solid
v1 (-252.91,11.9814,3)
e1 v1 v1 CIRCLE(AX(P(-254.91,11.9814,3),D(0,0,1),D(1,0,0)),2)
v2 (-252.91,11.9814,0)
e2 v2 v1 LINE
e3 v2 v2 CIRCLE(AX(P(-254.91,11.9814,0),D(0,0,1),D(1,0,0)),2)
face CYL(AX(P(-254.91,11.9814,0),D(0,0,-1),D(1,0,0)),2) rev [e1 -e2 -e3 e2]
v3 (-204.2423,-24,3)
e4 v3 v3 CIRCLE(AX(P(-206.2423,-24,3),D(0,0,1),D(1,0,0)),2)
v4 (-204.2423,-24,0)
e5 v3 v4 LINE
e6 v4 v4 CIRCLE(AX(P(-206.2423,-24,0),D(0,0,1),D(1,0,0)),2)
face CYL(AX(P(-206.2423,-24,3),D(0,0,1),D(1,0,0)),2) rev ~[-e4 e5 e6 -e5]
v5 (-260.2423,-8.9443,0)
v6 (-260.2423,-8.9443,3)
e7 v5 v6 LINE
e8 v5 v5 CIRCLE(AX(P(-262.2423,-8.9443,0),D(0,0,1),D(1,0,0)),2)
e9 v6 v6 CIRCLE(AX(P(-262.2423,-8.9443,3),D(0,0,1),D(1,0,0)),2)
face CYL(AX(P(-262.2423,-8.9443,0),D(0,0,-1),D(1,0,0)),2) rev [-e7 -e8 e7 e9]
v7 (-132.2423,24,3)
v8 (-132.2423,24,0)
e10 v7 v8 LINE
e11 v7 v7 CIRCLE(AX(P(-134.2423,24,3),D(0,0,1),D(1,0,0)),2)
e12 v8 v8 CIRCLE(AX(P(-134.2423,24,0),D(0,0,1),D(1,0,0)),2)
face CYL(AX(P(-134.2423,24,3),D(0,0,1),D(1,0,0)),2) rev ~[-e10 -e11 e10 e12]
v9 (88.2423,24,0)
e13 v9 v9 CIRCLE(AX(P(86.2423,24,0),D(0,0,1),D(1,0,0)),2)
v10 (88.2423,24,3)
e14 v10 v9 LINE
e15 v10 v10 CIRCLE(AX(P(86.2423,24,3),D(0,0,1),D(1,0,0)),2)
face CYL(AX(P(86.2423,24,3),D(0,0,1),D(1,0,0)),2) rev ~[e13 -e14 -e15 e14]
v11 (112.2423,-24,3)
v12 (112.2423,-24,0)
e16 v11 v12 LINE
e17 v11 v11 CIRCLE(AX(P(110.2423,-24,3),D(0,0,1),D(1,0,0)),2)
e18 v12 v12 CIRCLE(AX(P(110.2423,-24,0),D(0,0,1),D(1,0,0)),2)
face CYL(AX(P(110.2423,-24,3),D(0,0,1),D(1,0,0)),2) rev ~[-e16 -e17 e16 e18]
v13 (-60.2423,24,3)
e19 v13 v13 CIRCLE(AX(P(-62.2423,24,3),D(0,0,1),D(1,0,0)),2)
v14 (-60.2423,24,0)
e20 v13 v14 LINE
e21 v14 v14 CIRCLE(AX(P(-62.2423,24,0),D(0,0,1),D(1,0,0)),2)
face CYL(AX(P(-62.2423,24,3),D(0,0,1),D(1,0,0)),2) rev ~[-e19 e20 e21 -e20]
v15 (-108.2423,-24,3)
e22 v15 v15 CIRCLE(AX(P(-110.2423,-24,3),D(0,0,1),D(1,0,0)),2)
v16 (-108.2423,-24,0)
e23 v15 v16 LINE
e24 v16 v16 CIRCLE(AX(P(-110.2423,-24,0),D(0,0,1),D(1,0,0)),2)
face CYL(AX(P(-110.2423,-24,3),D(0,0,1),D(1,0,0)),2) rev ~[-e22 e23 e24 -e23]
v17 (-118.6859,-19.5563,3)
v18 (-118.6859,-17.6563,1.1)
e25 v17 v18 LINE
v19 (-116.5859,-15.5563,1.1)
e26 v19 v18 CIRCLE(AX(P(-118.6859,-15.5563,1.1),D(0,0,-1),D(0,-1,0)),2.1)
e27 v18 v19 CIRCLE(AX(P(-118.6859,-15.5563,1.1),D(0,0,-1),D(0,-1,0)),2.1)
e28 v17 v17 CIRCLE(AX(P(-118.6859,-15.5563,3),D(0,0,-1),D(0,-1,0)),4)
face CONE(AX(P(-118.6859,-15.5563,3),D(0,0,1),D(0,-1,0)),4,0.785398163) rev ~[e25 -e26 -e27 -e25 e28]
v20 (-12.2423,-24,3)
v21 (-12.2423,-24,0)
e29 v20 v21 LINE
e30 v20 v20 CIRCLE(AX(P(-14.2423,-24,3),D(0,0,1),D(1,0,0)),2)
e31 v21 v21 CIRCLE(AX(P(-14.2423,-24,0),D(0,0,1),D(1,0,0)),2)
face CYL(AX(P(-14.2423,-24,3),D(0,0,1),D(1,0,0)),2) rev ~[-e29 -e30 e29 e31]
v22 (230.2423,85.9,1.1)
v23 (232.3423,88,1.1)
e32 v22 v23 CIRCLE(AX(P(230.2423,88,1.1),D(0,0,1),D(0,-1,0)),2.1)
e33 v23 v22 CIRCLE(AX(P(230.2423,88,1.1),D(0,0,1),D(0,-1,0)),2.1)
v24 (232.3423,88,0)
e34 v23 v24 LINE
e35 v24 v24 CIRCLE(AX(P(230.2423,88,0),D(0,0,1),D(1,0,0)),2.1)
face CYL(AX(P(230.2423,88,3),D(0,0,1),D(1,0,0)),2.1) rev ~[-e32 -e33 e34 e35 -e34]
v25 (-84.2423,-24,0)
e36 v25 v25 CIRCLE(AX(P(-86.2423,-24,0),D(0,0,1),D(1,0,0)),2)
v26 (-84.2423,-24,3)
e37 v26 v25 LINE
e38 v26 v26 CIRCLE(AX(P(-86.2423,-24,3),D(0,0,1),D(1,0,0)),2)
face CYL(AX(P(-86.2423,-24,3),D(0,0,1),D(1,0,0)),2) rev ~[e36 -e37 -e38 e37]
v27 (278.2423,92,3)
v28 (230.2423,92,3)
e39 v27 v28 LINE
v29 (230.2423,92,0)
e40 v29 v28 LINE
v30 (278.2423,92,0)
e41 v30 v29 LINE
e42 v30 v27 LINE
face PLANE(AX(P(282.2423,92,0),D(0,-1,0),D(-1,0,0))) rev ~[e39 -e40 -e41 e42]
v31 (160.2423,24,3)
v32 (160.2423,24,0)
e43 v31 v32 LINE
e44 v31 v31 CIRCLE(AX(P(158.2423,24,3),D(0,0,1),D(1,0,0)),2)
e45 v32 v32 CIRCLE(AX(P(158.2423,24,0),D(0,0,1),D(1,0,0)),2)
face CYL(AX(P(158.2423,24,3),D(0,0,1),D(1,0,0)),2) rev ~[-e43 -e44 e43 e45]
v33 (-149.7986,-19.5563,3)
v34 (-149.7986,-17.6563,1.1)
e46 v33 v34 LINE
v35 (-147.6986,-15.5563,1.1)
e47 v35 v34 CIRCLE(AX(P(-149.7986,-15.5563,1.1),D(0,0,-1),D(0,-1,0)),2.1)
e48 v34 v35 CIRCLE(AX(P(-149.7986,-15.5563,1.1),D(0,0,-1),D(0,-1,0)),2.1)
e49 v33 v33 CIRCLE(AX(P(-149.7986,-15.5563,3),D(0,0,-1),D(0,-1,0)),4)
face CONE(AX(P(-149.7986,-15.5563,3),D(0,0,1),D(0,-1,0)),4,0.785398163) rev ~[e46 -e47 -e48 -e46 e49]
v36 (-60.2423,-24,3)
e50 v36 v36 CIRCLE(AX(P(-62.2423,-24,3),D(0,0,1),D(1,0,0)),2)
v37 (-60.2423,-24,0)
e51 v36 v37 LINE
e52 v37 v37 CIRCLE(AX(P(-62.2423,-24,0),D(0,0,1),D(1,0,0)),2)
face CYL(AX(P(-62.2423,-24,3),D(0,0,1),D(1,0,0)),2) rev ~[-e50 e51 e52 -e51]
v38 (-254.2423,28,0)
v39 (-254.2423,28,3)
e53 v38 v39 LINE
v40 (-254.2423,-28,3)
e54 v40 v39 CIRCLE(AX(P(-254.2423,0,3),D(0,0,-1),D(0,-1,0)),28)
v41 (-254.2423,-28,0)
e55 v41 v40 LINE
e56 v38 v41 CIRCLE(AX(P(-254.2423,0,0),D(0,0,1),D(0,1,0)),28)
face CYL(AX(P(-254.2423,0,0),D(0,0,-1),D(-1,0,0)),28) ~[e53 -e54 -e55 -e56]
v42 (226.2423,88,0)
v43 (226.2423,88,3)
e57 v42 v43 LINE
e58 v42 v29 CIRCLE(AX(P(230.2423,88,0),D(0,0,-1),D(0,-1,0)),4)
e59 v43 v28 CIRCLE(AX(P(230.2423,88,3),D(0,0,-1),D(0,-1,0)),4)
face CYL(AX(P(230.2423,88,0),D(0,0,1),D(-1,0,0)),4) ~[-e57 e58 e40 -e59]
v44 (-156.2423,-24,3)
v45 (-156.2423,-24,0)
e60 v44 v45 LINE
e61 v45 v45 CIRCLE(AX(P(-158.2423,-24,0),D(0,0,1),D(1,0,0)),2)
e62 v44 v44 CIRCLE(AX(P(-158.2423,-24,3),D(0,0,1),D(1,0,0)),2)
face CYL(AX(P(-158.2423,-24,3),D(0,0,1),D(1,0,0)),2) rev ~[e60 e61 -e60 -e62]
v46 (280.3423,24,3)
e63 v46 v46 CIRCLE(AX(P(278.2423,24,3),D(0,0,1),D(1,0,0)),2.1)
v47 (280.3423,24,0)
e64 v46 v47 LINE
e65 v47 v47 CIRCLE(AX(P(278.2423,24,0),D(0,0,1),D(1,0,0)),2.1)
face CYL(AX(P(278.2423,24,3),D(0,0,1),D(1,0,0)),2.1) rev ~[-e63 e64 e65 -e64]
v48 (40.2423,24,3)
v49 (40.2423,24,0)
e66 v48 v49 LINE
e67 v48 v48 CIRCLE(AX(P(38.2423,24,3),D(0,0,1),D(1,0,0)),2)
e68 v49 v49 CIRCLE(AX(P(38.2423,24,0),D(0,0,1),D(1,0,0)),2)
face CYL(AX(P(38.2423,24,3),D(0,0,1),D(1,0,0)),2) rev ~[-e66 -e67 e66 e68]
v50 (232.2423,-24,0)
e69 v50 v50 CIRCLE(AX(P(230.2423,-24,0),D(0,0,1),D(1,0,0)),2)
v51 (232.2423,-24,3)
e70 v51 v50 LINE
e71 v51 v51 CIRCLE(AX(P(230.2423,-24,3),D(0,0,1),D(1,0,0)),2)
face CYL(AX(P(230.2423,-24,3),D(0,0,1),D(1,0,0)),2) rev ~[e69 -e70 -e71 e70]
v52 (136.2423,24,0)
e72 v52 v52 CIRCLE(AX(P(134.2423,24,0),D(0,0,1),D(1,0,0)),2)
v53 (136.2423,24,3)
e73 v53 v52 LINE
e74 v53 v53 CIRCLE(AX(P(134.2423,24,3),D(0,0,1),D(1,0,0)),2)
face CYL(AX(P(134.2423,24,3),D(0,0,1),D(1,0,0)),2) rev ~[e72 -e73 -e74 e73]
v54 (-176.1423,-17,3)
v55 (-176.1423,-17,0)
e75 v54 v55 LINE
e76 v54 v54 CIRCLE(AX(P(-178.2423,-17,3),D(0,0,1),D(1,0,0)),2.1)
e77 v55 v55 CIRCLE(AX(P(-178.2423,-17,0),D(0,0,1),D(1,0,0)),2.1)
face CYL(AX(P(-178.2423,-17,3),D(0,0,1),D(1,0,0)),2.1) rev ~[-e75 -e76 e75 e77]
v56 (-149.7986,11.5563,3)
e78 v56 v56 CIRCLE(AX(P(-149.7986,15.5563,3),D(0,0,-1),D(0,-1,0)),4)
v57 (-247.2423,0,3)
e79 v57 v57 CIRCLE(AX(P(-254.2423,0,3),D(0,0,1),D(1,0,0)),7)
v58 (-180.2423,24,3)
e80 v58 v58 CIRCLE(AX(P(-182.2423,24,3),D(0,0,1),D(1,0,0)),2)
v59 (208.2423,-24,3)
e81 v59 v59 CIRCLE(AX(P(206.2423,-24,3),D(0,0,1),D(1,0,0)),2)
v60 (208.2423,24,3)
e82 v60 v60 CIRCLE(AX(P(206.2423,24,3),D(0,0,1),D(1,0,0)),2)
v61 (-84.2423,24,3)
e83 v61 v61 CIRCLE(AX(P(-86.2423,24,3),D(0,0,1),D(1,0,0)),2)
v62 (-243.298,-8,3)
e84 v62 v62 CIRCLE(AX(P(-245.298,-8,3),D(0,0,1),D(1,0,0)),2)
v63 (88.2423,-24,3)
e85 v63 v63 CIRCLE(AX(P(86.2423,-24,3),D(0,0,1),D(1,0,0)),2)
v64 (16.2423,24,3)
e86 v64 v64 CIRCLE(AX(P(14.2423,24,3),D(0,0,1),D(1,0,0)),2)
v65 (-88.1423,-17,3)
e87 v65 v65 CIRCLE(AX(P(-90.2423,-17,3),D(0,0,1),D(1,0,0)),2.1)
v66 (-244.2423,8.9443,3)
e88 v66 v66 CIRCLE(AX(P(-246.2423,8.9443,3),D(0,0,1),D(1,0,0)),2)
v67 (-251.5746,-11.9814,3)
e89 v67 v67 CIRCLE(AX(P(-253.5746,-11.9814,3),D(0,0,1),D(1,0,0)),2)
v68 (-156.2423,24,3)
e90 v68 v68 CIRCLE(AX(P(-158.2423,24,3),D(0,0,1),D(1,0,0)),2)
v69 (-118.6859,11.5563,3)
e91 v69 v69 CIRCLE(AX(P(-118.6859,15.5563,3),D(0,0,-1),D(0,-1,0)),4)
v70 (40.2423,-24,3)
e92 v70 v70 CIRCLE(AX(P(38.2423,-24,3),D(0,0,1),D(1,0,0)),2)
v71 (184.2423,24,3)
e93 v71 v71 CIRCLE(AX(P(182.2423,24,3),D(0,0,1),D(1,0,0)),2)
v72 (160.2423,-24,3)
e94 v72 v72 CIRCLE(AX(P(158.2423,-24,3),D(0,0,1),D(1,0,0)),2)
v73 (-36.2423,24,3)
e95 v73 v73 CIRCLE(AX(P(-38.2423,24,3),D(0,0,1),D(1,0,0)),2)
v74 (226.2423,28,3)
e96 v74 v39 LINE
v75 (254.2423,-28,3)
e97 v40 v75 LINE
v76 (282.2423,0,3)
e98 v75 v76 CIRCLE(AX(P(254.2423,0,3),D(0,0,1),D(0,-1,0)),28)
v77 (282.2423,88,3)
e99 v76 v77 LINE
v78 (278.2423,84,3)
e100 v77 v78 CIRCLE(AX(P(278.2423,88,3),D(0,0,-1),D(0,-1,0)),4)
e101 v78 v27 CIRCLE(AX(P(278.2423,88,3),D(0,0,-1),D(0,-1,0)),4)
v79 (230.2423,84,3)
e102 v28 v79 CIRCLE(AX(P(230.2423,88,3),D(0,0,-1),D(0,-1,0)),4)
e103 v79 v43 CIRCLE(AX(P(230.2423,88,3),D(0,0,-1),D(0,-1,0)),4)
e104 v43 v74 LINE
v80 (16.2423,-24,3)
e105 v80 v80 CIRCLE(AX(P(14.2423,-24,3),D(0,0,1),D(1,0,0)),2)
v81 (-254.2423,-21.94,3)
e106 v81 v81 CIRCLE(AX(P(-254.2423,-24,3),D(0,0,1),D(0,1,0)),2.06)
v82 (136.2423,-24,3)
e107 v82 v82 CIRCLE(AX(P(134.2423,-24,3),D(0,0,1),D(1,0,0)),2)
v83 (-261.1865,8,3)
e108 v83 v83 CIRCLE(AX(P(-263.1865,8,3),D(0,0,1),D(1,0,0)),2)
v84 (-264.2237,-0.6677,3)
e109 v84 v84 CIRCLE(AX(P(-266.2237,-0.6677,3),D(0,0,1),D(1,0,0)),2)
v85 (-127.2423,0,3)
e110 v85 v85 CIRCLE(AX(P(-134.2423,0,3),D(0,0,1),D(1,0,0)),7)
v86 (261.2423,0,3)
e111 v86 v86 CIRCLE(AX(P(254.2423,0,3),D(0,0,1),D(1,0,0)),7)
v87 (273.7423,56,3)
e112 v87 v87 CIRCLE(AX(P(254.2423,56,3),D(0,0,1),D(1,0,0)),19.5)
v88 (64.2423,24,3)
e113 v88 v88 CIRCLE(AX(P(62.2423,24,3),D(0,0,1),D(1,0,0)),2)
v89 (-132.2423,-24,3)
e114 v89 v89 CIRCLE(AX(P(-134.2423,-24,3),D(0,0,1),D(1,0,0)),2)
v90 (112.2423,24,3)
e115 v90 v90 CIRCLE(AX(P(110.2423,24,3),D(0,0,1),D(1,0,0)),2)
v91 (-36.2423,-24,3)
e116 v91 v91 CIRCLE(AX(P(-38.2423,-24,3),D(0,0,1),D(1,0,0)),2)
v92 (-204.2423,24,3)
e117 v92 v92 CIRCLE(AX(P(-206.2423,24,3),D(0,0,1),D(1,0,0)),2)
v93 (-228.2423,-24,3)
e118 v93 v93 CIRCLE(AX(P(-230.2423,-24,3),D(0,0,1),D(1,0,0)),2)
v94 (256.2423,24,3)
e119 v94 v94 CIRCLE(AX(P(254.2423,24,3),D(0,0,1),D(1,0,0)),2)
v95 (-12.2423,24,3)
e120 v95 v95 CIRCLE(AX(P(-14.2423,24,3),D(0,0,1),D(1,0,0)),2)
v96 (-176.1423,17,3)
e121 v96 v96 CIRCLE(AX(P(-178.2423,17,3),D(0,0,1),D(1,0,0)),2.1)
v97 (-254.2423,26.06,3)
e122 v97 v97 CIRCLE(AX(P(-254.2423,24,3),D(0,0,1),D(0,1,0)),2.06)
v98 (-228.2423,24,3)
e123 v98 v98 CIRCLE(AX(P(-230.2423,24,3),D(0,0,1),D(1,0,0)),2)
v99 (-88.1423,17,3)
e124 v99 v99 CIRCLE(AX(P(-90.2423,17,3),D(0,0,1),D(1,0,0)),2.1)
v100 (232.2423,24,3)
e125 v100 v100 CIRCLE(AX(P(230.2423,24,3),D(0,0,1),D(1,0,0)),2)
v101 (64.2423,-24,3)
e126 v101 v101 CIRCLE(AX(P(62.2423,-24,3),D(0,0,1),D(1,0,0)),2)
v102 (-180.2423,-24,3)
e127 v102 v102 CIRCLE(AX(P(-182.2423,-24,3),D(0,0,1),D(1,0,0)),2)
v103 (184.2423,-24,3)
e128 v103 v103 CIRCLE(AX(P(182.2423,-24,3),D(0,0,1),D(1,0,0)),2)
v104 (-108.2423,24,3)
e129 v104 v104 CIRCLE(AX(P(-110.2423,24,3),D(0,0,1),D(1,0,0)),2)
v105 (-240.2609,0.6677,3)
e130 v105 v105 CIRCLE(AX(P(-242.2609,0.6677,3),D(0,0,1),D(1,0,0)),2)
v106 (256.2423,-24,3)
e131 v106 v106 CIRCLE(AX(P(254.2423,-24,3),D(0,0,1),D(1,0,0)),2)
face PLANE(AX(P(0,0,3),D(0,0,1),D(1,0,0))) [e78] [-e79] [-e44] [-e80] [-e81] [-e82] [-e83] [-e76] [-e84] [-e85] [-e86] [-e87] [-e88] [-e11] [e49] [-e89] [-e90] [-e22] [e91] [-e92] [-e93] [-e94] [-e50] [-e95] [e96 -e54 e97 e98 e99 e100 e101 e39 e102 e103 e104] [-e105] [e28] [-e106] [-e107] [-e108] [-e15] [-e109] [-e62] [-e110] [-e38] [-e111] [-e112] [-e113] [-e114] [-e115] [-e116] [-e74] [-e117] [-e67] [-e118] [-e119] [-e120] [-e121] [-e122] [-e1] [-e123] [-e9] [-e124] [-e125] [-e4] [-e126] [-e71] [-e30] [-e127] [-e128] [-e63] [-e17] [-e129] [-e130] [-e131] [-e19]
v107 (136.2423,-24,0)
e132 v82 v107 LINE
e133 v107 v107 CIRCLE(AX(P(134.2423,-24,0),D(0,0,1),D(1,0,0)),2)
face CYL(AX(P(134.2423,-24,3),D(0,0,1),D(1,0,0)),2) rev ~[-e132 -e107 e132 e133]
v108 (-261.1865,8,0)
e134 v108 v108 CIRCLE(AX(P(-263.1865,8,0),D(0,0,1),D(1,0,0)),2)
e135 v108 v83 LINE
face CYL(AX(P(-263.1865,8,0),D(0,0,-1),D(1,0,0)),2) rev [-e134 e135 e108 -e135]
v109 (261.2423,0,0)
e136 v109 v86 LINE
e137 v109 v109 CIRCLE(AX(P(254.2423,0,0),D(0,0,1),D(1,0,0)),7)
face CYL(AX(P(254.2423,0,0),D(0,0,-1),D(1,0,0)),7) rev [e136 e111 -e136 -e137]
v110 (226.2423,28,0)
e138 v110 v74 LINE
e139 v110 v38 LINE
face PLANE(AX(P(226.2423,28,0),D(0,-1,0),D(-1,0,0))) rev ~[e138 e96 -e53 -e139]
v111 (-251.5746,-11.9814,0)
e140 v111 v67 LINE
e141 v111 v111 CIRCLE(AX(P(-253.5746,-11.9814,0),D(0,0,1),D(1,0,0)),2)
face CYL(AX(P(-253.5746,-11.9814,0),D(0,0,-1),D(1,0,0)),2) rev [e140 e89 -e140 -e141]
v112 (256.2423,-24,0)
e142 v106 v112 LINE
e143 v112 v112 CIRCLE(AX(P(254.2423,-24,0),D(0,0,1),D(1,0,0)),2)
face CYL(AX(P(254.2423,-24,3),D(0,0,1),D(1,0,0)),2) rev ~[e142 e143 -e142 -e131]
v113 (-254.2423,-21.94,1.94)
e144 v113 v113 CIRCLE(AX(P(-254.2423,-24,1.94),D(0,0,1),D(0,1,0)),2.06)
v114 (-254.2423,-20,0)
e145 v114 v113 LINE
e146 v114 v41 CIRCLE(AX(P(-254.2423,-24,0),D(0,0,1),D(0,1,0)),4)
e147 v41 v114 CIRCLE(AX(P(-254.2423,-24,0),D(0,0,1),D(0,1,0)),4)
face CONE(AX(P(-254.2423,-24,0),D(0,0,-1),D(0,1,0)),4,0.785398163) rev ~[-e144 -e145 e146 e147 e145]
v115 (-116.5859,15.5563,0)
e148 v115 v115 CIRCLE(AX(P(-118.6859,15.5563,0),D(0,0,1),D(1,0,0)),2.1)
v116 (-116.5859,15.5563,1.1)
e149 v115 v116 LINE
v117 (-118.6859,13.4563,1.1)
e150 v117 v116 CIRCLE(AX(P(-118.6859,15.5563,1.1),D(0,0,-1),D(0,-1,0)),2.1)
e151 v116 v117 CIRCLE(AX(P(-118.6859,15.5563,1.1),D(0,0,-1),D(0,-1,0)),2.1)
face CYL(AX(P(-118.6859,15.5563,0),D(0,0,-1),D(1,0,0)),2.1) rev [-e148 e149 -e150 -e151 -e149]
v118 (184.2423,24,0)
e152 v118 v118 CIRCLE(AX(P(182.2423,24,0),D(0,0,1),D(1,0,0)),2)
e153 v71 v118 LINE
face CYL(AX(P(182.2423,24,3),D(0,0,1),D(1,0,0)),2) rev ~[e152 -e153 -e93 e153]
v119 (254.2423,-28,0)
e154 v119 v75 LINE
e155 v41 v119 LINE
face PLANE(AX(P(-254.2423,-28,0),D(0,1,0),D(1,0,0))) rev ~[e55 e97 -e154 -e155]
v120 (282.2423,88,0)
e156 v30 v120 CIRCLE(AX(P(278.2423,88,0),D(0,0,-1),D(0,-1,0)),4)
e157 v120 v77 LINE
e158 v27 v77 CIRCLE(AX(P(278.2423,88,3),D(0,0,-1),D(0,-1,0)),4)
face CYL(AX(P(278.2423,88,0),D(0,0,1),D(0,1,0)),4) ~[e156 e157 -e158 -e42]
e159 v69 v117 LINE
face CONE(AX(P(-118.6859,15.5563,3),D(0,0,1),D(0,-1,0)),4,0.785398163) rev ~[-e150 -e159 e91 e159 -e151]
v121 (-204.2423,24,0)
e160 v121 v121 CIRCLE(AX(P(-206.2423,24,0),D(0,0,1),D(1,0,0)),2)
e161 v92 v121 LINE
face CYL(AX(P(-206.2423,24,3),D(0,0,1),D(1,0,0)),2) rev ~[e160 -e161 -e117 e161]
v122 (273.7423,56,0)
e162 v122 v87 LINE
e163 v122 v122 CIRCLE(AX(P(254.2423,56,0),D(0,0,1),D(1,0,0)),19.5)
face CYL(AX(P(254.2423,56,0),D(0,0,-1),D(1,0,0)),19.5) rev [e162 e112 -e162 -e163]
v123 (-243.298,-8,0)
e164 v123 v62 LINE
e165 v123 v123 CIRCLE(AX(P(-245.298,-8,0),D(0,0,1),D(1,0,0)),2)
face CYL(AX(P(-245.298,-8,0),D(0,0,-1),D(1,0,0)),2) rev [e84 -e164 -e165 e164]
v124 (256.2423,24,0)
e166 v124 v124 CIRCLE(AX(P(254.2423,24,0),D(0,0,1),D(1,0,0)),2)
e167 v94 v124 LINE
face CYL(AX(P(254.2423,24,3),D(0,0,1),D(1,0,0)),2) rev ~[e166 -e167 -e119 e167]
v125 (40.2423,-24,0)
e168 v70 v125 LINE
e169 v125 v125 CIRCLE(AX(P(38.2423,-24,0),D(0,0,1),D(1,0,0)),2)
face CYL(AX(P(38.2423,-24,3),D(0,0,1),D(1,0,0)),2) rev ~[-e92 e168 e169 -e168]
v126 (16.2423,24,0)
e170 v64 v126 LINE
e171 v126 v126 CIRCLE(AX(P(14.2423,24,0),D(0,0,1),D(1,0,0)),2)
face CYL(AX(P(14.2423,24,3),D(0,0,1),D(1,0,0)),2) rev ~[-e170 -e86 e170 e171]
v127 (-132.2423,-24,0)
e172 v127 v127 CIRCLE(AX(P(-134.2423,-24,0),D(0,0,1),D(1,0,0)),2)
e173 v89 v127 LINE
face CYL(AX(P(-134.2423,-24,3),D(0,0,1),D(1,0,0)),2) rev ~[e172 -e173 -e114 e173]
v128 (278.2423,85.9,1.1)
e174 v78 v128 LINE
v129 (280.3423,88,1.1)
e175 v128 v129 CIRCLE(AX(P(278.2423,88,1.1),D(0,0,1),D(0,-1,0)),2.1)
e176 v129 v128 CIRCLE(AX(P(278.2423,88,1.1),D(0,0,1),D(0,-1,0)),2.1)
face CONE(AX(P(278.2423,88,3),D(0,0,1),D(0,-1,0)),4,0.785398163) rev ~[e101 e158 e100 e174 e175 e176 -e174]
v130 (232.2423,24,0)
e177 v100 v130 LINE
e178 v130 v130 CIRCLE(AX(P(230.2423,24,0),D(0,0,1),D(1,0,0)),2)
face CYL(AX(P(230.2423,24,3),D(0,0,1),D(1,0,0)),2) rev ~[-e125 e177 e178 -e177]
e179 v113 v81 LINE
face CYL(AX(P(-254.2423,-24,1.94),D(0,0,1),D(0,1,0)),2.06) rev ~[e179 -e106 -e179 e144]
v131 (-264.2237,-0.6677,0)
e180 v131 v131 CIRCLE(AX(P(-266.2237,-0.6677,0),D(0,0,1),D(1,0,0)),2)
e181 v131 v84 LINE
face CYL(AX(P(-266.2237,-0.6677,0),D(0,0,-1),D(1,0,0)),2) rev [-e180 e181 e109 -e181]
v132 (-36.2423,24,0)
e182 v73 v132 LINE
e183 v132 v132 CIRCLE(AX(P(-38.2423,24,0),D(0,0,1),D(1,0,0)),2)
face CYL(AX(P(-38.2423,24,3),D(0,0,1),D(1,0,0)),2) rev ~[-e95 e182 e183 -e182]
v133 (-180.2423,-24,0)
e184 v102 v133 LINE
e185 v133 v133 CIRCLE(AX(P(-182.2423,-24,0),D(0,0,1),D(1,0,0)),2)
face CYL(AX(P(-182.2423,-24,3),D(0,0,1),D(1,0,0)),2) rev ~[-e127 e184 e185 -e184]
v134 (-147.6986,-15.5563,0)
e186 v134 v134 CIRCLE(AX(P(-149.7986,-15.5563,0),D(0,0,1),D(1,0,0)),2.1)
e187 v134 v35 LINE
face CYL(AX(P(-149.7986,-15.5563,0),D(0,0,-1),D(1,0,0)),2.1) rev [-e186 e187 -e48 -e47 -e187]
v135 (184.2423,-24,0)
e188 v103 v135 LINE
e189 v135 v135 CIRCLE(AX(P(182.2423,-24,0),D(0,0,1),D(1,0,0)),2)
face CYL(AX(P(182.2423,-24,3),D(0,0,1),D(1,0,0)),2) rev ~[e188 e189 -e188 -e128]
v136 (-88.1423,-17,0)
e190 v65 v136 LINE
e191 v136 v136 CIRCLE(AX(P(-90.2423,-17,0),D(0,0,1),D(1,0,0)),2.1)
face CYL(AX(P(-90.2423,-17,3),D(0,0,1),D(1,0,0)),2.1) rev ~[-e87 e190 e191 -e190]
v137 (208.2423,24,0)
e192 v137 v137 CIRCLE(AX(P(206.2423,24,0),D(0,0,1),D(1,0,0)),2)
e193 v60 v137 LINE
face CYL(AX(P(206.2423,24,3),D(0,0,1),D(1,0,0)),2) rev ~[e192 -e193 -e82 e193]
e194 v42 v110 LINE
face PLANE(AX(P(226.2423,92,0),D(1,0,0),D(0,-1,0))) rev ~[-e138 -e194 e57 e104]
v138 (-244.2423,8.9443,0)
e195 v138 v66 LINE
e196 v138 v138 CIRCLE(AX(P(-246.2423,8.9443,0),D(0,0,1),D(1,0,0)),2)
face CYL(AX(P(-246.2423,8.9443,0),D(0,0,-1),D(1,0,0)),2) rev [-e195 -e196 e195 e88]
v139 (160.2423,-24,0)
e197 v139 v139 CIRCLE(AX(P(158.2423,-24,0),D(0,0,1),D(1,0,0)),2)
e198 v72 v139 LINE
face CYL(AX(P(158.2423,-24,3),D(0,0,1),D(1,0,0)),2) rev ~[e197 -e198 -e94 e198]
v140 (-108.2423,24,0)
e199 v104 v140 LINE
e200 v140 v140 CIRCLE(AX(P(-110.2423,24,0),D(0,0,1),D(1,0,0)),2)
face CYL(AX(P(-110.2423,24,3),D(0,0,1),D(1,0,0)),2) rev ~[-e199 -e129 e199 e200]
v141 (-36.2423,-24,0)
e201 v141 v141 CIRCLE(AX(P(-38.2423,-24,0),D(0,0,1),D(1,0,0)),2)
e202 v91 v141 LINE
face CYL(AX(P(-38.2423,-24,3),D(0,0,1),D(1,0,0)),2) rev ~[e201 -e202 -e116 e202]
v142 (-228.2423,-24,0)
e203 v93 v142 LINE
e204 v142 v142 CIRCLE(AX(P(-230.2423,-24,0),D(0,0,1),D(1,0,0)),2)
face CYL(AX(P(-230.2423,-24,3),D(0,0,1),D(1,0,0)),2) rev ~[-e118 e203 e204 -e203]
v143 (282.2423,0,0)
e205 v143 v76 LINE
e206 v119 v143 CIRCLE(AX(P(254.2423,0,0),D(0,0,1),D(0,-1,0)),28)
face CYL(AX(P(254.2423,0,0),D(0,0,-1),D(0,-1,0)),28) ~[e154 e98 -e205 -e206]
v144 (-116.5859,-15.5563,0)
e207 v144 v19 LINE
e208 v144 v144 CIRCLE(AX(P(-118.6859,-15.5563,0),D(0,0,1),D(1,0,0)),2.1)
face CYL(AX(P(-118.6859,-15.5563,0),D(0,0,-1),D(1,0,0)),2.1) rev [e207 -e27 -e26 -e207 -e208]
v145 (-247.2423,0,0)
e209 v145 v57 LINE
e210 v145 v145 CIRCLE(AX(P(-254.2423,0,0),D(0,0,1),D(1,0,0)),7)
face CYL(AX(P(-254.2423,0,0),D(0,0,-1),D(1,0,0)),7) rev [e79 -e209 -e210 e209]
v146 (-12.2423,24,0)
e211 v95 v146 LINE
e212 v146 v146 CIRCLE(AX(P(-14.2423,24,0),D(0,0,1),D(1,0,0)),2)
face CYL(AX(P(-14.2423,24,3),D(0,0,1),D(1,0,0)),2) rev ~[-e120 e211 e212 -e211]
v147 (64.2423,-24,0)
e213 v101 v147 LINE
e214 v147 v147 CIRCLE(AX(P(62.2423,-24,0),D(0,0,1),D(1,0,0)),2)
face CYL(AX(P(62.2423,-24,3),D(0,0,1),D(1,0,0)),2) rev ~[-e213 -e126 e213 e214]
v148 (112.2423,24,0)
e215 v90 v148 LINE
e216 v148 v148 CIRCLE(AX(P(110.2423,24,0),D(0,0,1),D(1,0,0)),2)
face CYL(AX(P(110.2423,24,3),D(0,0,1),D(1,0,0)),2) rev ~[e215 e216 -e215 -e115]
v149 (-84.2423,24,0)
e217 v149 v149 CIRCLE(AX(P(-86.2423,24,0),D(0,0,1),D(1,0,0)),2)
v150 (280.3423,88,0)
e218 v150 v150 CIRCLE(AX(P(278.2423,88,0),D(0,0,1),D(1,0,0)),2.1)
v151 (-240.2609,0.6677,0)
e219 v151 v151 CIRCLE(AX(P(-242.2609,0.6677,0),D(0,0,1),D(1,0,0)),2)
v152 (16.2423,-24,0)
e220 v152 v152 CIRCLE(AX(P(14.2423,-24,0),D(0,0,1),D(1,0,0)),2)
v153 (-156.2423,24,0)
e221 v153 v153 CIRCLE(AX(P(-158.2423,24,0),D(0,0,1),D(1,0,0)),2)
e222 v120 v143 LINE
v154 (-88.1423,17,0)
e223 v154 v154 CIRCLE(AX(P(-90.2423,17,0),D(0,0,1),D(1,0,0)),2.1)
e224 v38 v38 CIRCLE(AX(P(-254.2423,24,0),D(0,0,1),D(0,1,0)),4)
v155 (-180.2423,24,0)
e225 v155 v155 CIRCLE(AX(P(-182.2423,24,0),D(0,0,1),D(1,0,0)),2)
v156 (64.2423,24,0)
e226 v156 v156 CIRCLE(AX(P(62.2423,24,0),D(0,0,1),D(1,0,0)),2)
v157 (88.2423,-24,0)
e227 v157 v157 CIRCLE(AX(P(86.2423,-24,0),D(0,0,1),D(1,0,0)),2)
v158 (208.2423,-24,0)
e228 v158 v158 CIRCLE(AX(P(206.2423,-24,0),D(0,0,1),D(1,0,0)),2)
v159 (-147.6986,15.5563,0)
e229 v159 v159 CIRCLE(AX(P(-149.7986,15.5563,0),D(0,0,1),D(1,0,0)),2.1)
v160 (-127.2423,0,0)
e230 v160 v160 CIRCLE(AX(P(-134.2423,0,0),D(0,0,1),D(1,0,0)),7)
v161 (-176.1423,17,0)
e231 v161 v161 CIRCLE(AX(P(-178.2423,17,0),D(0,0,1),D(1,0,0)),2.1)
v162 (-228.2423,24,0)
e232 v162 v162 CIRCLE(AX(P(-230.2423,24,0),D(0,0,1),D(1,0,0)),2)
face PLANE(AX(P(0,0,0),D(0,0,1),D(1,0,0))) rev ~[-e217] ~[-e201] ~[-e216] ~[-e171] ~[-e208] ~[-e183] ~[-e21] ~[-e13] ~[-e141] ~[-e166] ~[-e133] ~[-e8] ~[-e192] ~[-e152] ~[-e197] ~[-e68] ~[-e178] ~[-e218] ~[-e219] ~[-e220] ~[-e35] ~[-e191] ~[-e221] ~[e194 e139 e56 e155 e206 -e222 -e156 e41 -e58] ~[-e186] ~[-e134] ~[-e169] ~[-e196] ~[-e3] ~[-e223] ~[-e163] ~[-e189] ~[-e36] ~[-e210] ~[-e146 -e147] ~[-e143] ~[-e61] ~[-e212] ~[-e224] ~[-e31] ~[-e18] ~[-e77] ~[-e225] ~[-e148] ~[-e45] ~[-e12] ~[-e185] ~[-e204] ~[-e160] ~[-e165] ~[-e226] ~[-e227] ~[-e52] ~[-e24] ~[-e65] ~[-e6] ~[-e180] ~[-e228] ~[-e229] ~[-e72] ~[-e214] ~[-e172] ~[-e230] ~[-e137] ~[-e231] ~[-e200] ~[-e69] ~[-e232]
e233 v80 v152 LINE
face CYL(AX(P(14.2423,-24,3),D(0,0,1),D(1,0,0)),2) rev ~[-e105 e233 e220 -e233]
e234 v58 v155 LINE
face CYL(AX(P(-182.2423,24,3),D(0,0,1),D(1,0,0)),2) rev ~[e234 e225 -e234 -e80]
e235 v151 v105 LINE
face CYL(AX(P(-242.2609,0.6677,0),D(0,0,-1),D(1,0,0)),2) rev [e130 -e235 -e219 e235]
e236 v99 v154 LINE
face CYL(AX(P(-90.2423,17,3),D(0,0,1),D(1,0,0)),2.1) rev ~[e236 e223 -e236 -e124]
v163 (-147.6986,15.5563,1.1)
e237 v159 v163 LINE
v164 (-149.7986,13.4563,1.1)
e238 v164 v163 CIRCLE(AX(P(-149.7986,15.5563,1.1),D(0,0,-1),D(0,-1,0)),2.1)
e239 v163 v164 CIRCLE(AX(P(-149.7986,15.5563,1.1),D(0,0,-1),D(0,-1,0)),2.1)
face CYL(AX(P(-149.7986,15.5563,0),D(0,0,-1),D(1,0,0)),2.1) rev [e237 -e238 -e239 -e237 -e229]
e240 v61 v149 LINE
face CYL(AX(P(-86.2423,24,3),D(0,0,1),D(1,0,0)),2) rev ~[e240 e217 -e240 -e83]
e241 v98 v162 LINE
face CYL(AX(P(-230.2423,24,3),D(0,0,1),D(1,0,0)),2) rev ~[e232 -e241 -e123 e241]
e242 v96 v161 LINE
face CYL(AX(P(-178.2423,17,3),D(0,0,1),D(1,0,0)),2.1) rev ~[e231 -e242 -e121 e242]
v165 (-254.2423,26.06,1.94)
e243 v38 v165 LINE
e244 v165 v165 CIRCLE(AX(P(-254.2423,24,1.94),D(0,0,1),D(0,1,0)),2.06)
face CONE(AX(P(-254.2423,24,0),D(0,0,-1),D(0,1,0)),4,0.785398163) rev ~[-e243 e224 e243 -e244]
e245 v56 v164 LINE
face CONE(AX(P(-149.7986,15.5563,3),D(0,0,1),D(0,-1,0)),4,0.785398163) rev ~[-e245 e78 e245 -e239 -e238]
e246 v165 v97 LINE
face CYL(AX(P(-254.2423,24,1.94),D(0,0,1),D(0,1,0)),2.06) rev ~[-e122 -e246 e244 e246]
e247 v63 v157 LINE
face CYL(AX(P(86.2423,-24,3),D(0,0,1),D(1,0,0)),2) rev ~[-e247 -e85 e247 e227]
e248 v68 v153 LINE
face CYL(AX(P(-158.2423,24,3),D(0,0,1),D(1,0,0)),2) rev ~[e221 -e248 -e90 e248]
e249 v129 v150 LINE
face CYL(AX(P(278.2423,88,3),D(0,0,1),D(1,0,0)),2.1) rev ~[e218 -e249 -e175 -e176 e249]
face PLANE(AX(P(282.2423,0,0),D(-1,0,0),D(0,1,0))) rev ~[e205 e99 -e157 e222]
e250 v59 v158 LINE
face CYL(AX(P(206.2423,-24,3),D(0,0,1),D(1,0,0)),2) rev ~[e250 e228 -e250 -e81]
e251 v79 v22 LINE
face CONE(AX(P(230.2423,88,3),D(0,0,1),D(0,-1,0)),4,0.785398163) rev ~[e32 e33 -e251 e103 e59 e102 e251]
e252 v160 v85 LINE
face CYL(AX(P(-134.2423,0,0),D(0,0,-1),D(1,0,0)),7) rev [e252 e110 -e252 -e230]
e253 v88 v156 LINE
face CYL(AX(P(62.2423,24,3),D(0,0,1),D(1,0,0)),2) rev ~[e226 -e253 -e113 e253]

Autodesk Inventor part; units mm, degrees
ref_plane "YZ Plane" through (0, 0, 0) normal (1, 0, 0) x (0, 1, 0)
ref_plane "XZ Plane" through (0, 0, 0) normal (0, 1, 0) x (-1, 0, 0)
ref_plane "XY Plane" through (0, 0, 0) normal (0, 0, 1) x (1, 0, 0)
sketch "Sketch1" plane through (0, 0, 0) normal (0, 0, 1) x (1, 0, 0)
  line L0 (-254.2423, -28) -> (254.2423, -28)
  line L1 (282.2423, 0) -> (282.2423, 28)
  line L2 (282.2423, 28) -> (-254.2423, 28) construction
  line L3 (-282.2423, 0) -> (-282.2423, 0)
  line L4 (-282.2423, -28) -> (282.2423, 28) construction
  line L5 (282.2423, -28) -> (-282.2423, 28) construction
  arc A0 (-254.2423, 28) -> (-282.2423, 0) centre (-254.2423, 0) ccw
  arc A1 (-282.2423, 0) -> (-254.2423, -28) centre (-254.2423, 0) ccw
  circle A2 centre (-134.2423, 0) radius 7
  circle A3 centre (-149.7986, 15.5563) radius 2.1
  line L6 (-134.2423, 0) -> (-149.7986, 15.5563) construction
  line L7 (-134.2423, 0) -> (-254.2423, 0) construction
  circle A4 centre (-149.7986, -15.5563) radius 2.1
  circle A5 centre (-118.6859, -15.5563) radius 2.1
  circle A6 centre (-118.6859, 15.5563) radius 2.1
  arc A7 (254.2423, -28) -> (282.2423, 0) centre (254.2423, 0) ccw
  circle A8 centre (254.2423, 0) radius 7
  line L8 (282.2423, 28) -> (282.2423, 92)
  line L9 (282.2423, 92) -> (226.2423, 92)
  line L10 (226.2423, 92) -> (226.2423, 28)
  line L11 (226.2423, 28) -> (-254.2423, 28)
  circle A9 centre (254.2423, 56) radius 19.5
  circle A10 centre (-254.2423, 0) radius 7
  circle A11 centre (-263.1865, 8) radius 2
  circle A12 centre (-266.2237, -0.6677) radius 2
  circle A13 centre (-262.2423, -8.9443) radius 2
  circle A14 centre (-253.5746, -11.9814) radius 2
  circle A15 centre (-245.298, -8) radius 2
  circle A16 centre (-242.2609, 0.6677) radius 2
  circle A17 centre (-246.2423, 8.9443) radius 2
  circle A18 centre (-254.91, 11.9814) radius 2
  line L12 (-134.2423, 0) -> (254.2423, 56) construction
  point P0 (0, 0)
  point P1 (-282.2423, 0)
  dimension "d1" = 56
  dimension "d3" = 28
  dimension "d4" = 14
  dimension "d5" = 120
  dimension "d6" = 4.2
  dimension "d7" = 45
  dimension "d8" = 22
  dimension "d11" = 360
  dimension "d13" = 28
  dimension "d16" = 14
  dimension "d17" = 64
  dimension "d18" = 56
  dimension "d19" = 39
  dimension "d20" = 56
  dimension "d21" = 14
  dimension "d22" = 4
  dimension "d24" = 8
  dimension "d27" = 360
  dimension "d50" = 12
  dimension "d65" = 392.5
extrude "Extrusion1" add sketch "Sketch1" along normal blind 3
sketch "Sketch2" plane through (0, 0, 3) normal (0, 0, 1) x (1, 0, 0)
  line L0 (226.2423, 28) -> (-254.2423, 28) construction
  circle A0 centre (-254.2423, 24) radius 2
  circle A1 centre (-230.2423, 24) radius 2
  circle A2 centre (-206.2423, 24) radius 2
  circle A3 centre (-182.2423, 24) radius 2
  circle A4 centre (-158.2423, 24) radius 2
  circle A5 centre (-134.2423, 24) radius 2
  circle A6 centre (-110.2423, 24) radius 2
  circle A7 centre (-86.2423, 24) radius 2
  circle A8 centre (-62.2423, 24) radius 2
  circle A9 centre (-38.2423, 24) radius 2
  circle A10 centre (-14.2423, 24) radius 2
  line L1 (0, 28) -> (0, -28) construction
  line L2 (-254.2423, -28) -> (254.2423, -28) construction
  circle A11 centre (254.2423, 24) radius 2
  circle A12 centre (230.2423, 24) radius 2
  circle A13 centre (206.2423, 24) radius 2
  circle A14 centre (182.2423, 24) radius 2
  circle A15 centre (158.2423, 24) radius 2
  circle A16 centre (134.2423, 24) radius 2
  circle A17 centre (110.2423, 24) radius 2
  circle A18 centre (86.2423, 24) radius 2
  circle A19 centre (62.2423, 24) radius 2
  circle A20 centre (38.2423, 24) radius 2
  circle A21 centre (14.2423, 24) radius 2
  arc A22 (-254.2423, 28) -> (-254.2423, -28) centre (-254.2423, 0) ccw construction
  arc A23 (254.2423, -28) -> (282.2423, 0) centre (254.2423, 0) ccw construction
  line L3 (-282.2423, 0) -> (282.2423, 0) construction
  line L4 (226.2423, -28) -> (-254.2423, -28) construction
  circle A24 centre (-254.2423, -24) radius 2
  circle A25 centre (-230.2423, -24) radius 2
  circle A26 centre (-206.2423, -24) radius 2
  circle A27 centre (-182.2423, -24) radius 2
  circle A28 centre (-158.2423, -24) radius 2
  circle A29 centre (-134.2423, -24) radius 2
  circle A30 centre (-110.2423, -24) radius 2
  circle A31 centre (-86.2423, -24) radius 2
  circle A32 centre (-62.2423, -24) radius 2
  circle A33 centre (-38.2423, -24) radius 2
  circle A34 centre (-14.2423, -24) radius 2
  circle A35 centre (62.2423, -24) radius 2
  circle A36 centre (38.2423, -24) radius 2
  circle A37 centre (14.2423, -24) radius 2
  circle A38 centre (86.2423, -24) radius 2
  circle A39 centre (110.2423, -24) radius 2
  circle A40 centre (134.2423, -24) radius 2
  circle A41 centre (158.2423, -24) radius 2
  circle A42 centre (182.2423, -24) radius 2
  circle A43 centre (206.2423, -24) radius 2
  circle A44 centre (230.2423, -24) radius 2
  circle A45 centre (254.2423, -24) radius 2
  circle A46 centre (230.2423, 88) radius 2.1
  line L5 (226.2423, 92) -> (226.2423, 28) construction
  line L6 (282.2423, 92) -> (226.2423, 92) construction
  circle A47 centre (278.2423, 88) radius 2.1
  line L7 (282.2423, 0) -> (282.2423, 92) construction
  circle A48 centre (278.2423, 24) radius 2.1
  point P0 (0, 0)
  point P1 (254.2423, 28)
  dimension "d29" = 4
  dimension "d30" = 4
  dimension "d33" = 24
  dimension "d38" = 4.2
  dimension "d39" = 4
  dimension "d40" = 4
  dimension "d41" = 4.2
  dimension "d42" = 4
  dimension "d43" = 4
  dimension "d56" = 4.2
extrude "Extrusion2" cut sketch "Sketch2" against normal through all
sketch "Sketch3" plane through (0, 0, 3) normal (0, 0, 1) x (1, 0, 0)
  circle A0 centre (-134.2423, 0) radius 7 construction
  circle A1 centre (-90.2423, 17) radius 2.1
  line L0 (-134.2423, 0) -> (-127.2423, 0) construction
  circle A2 centre (-134.2423, 0) radius 7 construction
  line L1 (-134.2423, 0) -> (-134.2423, 7) construction
  circle A3 centre (-90.2423, -17) radius 2.1
  circle A4 centre (-178.2423, 17) radius 2.1
  circle A5 centre (-178.2423, -17) radius 2.1
  point P0 (0, 0)
  dimension "d51" = 4.2
  dimension "d52" = 44
  dimension "d53" = 17
extrude "Extrusion3" cut sketch "Sketch3" against normal through all
fillet "Fillet1" radius 4 2 edges at (226.2423, 92, 1.5) (282.2423, 92, 1.5)
sketch "Sketch4" plane through (0, 0, 3) normal (0, 0, 1) x (1, 0, 0)
  circle A0 centre (-149.7986, 15.5563) radius 2.1 projected
  circle A1 centre (-118.6859, 15.5563) radius 2.1 projected
  circle A2 centre (-118.6859, -15.5563) radius 2.1 projected
  circle A3 centre (-149.7986, -15.5563) radius 2.1 projected
  point P0 (0, 0)
hole "Hole1" at (-149.7986, 15.5563, 3) at (-149.7986, -15.5563, 3) at (-118.6859, -15.5563, 3) at (-118.6859, 15.5563, 3) direction (0, 0, -1) diameter 4.2 end through all countersink diameter 8 countersink angle 90
sketch "Sketch5" plane through (0, 0, 0) normal (0, 0, -1) x (-1, 0, 0)
  circle A0 centre (178.2423, -17) radius 2.1 projected
  circle A1 centre (90.2423, -17) radius 2.1 projected
  circle A2 centre (90.2423, 17) radius 2.1 projected
  circle A3 centre (178.2423, 17) radius 2.1 projected
  circle A4 centre (158.2423, 24) radius 2 projected
  circle A5 centre (62.2423, 24) radius 2 projected
  circle A6 centre (62.2423, -24) radius 2 projected
  circle A7 centre (110.2423, -24) radius 2 projected
  circle A8 centre (206.2423, 24) radius 2 projected
  circle A9 centre (230.2423, -24) radius 2 projected
  circle A10 centre (-38.2423, -24) radius 2 projected
  circle A11 centre (-62.2423, -24) radius 2 projected
  circle A12 centre (-110.2423, 24) radius 2 projected
  circle A13 centre (-206.2423, 24) radius 2 projected
  circle A14 centre (-254.2423, -24) radius 2 projected
  circle A15 centre (-86.2423, -24) radius 2 projected
  circle A16 centre (-254.2423, 24) radius 2 projected
  circle A17 centre (-278.2423, 88) radius 2.1 projected
  circle A18 centre (-134.2423, 24) radius 2 projected
  circle A19 centre (-158.2423, -24) radius 2 projected
  circle A20 centre (-134.2423, -24) radius 2 projected
  circle A21 centre (-206.2423, -24) radius 2 projected
  circle A22 centre (182.2423, -24) radius 2 projected
  circle A23 centre (134.2423, -24) radius 2 projected
  circle A24 centre (38.2423, -24) radius 2 projected
  circle A25 centre (38.2423, 24) radius 2 projected
  circle A26 centre (134.2423, 24) radius 2 projected
  circle A27 centre (182.2423, 24) radius 2 projected
  circle A28 centre (86.2423, 24) radius 2 projected
  circle A29 centre (230.2423, 24) radius 2 projected
  circle A30 centre (86.2423, -24) radius 2 projected
  circle A31 centre (158.2423, -24) radius 2 projected
  circle A32 centre (206.2423, -24) radius 2 projected
  circle A33 centre (-182.2423, -24) radius 2 projected
  circle A34 centre (-62.2423, 24) radius 2 projected
  circle A35 centre (-86.2423, 24) radius 2 projected
  circle A36 centre (-182.2423, 24) radius 2 projected
  circle A37 centre (-38.2423, 24) radius 2 projected
  circle A38 centre (-14.2423, 24) radius 2 projected
  circle A39 centre (-14.2423, -24) radius 2 projected
  circle A40 centre (-230.2423, 24) radius 2 projected
  circle A41 centre (-158.2423, 24) radius 2 projected
  circle A42 centre (-230.2423, 88) radius 2.1 projected
  circle A43 centre (-110.2423, -24) radius 2 projected
  circle A44 centre (-230.2423, -24) radius 2 projected
  circle A45 centre (254.2423, -24) radius 2 projected
  circle A46 centre (254.2423, 24) radius 2 projected
  circle A47 centre (14.2423, -24) radius 2 projected
  circle A48 centre (14.2423, 24) radius 2 projected
  circle A49 centre (110.2423, 24) radius 2 projected
  circle A50 centre (-278.2423, 24) radius 2.1 projected
  arc A51 (-278.2423, 92) -> (-282.2423, 88) centre (-278.2423, 88) ccw projected
  line L0 (-282.2423, 0) -> (-282.2423, 88) projected
  arc A52 (-282.2423, 0) -> (-254.2423, -28) centre (-254.2423, 0) ccw projected
  line L1 (254.2423, -28) -> (-254.2423, -28) projected
  arc A53 (254.2423, -28) -> (254.2423, 28) centre (254.2423, 0) ccw projected
  line L2 (-226.2423, 28) -> (254.2423, 28) projected
  line L3 (-226.2423, 88) -> (-226.2423, 28) projected
  arc A54 (-226.2423, 88) -> (-230.2423, 92) centre (-230.2423, 88) ccw projected
  line L4 (-278.2423, 92) -> (-230.2423, 92) projected
  circle A55 centre (134.2423, 0) radius 7 projected
  circle A56 centre (149.7986, 15.5563) radius 2.1 projected
  circle A57 centre (149.7986, -15.5563) radius 2.1 projected
  circle A58 centre (118.6859, -15.5563) radius 2.1 projected
  circle A59 centre (118.6859, 15.5563) radius 2.1 projected
  circle A60 centre (-254.2423, 56) radius 19.5 projected
  circle A61 centre (242.2609, 0.6677) radius 2 projected
  circle A62 centre (254.91, 11.9814) radius 2 projected
  circle A63 centre (246.2423, 8.9443) radius 2 projected
  circle A64 centre (245.298, -8) radius 2 projected
  circle A65 centre (253.5746, -11.9814) radius 2 projected
  circle A66 centre (262.2423, -8.9443) radius 2 projected
  circle A67 centre (266.2237, -0.6677) radius 2 projected
  circle A68 centre (263.1865, 8) radius 2 projected
  circle A69 centre (254.2423, 0) radius 7 projected
  circle A70 centre (-254.2423, 0) radius 7 projected
  point P0 (0, 0)
hole "Hole2" at (-254.2423, 24, 0) at (-254.2423, -24, 0) direction (0, 0, 1) diameter 4.12 end through all countersink diameter 8 countersink angle 90
hole "Hole3" at (230.2423, 88, 3) at (278.2423, 88, 3) direction (0, 0, -1) diameter 4.12 end through all countersink diameter 8 countersink angle 90
equation "\"d3\" = 0.5 * d1"
equation "\"d13\" = d3"
properties part number "FirstStageArmBar1" material "Aluminum 6061"
